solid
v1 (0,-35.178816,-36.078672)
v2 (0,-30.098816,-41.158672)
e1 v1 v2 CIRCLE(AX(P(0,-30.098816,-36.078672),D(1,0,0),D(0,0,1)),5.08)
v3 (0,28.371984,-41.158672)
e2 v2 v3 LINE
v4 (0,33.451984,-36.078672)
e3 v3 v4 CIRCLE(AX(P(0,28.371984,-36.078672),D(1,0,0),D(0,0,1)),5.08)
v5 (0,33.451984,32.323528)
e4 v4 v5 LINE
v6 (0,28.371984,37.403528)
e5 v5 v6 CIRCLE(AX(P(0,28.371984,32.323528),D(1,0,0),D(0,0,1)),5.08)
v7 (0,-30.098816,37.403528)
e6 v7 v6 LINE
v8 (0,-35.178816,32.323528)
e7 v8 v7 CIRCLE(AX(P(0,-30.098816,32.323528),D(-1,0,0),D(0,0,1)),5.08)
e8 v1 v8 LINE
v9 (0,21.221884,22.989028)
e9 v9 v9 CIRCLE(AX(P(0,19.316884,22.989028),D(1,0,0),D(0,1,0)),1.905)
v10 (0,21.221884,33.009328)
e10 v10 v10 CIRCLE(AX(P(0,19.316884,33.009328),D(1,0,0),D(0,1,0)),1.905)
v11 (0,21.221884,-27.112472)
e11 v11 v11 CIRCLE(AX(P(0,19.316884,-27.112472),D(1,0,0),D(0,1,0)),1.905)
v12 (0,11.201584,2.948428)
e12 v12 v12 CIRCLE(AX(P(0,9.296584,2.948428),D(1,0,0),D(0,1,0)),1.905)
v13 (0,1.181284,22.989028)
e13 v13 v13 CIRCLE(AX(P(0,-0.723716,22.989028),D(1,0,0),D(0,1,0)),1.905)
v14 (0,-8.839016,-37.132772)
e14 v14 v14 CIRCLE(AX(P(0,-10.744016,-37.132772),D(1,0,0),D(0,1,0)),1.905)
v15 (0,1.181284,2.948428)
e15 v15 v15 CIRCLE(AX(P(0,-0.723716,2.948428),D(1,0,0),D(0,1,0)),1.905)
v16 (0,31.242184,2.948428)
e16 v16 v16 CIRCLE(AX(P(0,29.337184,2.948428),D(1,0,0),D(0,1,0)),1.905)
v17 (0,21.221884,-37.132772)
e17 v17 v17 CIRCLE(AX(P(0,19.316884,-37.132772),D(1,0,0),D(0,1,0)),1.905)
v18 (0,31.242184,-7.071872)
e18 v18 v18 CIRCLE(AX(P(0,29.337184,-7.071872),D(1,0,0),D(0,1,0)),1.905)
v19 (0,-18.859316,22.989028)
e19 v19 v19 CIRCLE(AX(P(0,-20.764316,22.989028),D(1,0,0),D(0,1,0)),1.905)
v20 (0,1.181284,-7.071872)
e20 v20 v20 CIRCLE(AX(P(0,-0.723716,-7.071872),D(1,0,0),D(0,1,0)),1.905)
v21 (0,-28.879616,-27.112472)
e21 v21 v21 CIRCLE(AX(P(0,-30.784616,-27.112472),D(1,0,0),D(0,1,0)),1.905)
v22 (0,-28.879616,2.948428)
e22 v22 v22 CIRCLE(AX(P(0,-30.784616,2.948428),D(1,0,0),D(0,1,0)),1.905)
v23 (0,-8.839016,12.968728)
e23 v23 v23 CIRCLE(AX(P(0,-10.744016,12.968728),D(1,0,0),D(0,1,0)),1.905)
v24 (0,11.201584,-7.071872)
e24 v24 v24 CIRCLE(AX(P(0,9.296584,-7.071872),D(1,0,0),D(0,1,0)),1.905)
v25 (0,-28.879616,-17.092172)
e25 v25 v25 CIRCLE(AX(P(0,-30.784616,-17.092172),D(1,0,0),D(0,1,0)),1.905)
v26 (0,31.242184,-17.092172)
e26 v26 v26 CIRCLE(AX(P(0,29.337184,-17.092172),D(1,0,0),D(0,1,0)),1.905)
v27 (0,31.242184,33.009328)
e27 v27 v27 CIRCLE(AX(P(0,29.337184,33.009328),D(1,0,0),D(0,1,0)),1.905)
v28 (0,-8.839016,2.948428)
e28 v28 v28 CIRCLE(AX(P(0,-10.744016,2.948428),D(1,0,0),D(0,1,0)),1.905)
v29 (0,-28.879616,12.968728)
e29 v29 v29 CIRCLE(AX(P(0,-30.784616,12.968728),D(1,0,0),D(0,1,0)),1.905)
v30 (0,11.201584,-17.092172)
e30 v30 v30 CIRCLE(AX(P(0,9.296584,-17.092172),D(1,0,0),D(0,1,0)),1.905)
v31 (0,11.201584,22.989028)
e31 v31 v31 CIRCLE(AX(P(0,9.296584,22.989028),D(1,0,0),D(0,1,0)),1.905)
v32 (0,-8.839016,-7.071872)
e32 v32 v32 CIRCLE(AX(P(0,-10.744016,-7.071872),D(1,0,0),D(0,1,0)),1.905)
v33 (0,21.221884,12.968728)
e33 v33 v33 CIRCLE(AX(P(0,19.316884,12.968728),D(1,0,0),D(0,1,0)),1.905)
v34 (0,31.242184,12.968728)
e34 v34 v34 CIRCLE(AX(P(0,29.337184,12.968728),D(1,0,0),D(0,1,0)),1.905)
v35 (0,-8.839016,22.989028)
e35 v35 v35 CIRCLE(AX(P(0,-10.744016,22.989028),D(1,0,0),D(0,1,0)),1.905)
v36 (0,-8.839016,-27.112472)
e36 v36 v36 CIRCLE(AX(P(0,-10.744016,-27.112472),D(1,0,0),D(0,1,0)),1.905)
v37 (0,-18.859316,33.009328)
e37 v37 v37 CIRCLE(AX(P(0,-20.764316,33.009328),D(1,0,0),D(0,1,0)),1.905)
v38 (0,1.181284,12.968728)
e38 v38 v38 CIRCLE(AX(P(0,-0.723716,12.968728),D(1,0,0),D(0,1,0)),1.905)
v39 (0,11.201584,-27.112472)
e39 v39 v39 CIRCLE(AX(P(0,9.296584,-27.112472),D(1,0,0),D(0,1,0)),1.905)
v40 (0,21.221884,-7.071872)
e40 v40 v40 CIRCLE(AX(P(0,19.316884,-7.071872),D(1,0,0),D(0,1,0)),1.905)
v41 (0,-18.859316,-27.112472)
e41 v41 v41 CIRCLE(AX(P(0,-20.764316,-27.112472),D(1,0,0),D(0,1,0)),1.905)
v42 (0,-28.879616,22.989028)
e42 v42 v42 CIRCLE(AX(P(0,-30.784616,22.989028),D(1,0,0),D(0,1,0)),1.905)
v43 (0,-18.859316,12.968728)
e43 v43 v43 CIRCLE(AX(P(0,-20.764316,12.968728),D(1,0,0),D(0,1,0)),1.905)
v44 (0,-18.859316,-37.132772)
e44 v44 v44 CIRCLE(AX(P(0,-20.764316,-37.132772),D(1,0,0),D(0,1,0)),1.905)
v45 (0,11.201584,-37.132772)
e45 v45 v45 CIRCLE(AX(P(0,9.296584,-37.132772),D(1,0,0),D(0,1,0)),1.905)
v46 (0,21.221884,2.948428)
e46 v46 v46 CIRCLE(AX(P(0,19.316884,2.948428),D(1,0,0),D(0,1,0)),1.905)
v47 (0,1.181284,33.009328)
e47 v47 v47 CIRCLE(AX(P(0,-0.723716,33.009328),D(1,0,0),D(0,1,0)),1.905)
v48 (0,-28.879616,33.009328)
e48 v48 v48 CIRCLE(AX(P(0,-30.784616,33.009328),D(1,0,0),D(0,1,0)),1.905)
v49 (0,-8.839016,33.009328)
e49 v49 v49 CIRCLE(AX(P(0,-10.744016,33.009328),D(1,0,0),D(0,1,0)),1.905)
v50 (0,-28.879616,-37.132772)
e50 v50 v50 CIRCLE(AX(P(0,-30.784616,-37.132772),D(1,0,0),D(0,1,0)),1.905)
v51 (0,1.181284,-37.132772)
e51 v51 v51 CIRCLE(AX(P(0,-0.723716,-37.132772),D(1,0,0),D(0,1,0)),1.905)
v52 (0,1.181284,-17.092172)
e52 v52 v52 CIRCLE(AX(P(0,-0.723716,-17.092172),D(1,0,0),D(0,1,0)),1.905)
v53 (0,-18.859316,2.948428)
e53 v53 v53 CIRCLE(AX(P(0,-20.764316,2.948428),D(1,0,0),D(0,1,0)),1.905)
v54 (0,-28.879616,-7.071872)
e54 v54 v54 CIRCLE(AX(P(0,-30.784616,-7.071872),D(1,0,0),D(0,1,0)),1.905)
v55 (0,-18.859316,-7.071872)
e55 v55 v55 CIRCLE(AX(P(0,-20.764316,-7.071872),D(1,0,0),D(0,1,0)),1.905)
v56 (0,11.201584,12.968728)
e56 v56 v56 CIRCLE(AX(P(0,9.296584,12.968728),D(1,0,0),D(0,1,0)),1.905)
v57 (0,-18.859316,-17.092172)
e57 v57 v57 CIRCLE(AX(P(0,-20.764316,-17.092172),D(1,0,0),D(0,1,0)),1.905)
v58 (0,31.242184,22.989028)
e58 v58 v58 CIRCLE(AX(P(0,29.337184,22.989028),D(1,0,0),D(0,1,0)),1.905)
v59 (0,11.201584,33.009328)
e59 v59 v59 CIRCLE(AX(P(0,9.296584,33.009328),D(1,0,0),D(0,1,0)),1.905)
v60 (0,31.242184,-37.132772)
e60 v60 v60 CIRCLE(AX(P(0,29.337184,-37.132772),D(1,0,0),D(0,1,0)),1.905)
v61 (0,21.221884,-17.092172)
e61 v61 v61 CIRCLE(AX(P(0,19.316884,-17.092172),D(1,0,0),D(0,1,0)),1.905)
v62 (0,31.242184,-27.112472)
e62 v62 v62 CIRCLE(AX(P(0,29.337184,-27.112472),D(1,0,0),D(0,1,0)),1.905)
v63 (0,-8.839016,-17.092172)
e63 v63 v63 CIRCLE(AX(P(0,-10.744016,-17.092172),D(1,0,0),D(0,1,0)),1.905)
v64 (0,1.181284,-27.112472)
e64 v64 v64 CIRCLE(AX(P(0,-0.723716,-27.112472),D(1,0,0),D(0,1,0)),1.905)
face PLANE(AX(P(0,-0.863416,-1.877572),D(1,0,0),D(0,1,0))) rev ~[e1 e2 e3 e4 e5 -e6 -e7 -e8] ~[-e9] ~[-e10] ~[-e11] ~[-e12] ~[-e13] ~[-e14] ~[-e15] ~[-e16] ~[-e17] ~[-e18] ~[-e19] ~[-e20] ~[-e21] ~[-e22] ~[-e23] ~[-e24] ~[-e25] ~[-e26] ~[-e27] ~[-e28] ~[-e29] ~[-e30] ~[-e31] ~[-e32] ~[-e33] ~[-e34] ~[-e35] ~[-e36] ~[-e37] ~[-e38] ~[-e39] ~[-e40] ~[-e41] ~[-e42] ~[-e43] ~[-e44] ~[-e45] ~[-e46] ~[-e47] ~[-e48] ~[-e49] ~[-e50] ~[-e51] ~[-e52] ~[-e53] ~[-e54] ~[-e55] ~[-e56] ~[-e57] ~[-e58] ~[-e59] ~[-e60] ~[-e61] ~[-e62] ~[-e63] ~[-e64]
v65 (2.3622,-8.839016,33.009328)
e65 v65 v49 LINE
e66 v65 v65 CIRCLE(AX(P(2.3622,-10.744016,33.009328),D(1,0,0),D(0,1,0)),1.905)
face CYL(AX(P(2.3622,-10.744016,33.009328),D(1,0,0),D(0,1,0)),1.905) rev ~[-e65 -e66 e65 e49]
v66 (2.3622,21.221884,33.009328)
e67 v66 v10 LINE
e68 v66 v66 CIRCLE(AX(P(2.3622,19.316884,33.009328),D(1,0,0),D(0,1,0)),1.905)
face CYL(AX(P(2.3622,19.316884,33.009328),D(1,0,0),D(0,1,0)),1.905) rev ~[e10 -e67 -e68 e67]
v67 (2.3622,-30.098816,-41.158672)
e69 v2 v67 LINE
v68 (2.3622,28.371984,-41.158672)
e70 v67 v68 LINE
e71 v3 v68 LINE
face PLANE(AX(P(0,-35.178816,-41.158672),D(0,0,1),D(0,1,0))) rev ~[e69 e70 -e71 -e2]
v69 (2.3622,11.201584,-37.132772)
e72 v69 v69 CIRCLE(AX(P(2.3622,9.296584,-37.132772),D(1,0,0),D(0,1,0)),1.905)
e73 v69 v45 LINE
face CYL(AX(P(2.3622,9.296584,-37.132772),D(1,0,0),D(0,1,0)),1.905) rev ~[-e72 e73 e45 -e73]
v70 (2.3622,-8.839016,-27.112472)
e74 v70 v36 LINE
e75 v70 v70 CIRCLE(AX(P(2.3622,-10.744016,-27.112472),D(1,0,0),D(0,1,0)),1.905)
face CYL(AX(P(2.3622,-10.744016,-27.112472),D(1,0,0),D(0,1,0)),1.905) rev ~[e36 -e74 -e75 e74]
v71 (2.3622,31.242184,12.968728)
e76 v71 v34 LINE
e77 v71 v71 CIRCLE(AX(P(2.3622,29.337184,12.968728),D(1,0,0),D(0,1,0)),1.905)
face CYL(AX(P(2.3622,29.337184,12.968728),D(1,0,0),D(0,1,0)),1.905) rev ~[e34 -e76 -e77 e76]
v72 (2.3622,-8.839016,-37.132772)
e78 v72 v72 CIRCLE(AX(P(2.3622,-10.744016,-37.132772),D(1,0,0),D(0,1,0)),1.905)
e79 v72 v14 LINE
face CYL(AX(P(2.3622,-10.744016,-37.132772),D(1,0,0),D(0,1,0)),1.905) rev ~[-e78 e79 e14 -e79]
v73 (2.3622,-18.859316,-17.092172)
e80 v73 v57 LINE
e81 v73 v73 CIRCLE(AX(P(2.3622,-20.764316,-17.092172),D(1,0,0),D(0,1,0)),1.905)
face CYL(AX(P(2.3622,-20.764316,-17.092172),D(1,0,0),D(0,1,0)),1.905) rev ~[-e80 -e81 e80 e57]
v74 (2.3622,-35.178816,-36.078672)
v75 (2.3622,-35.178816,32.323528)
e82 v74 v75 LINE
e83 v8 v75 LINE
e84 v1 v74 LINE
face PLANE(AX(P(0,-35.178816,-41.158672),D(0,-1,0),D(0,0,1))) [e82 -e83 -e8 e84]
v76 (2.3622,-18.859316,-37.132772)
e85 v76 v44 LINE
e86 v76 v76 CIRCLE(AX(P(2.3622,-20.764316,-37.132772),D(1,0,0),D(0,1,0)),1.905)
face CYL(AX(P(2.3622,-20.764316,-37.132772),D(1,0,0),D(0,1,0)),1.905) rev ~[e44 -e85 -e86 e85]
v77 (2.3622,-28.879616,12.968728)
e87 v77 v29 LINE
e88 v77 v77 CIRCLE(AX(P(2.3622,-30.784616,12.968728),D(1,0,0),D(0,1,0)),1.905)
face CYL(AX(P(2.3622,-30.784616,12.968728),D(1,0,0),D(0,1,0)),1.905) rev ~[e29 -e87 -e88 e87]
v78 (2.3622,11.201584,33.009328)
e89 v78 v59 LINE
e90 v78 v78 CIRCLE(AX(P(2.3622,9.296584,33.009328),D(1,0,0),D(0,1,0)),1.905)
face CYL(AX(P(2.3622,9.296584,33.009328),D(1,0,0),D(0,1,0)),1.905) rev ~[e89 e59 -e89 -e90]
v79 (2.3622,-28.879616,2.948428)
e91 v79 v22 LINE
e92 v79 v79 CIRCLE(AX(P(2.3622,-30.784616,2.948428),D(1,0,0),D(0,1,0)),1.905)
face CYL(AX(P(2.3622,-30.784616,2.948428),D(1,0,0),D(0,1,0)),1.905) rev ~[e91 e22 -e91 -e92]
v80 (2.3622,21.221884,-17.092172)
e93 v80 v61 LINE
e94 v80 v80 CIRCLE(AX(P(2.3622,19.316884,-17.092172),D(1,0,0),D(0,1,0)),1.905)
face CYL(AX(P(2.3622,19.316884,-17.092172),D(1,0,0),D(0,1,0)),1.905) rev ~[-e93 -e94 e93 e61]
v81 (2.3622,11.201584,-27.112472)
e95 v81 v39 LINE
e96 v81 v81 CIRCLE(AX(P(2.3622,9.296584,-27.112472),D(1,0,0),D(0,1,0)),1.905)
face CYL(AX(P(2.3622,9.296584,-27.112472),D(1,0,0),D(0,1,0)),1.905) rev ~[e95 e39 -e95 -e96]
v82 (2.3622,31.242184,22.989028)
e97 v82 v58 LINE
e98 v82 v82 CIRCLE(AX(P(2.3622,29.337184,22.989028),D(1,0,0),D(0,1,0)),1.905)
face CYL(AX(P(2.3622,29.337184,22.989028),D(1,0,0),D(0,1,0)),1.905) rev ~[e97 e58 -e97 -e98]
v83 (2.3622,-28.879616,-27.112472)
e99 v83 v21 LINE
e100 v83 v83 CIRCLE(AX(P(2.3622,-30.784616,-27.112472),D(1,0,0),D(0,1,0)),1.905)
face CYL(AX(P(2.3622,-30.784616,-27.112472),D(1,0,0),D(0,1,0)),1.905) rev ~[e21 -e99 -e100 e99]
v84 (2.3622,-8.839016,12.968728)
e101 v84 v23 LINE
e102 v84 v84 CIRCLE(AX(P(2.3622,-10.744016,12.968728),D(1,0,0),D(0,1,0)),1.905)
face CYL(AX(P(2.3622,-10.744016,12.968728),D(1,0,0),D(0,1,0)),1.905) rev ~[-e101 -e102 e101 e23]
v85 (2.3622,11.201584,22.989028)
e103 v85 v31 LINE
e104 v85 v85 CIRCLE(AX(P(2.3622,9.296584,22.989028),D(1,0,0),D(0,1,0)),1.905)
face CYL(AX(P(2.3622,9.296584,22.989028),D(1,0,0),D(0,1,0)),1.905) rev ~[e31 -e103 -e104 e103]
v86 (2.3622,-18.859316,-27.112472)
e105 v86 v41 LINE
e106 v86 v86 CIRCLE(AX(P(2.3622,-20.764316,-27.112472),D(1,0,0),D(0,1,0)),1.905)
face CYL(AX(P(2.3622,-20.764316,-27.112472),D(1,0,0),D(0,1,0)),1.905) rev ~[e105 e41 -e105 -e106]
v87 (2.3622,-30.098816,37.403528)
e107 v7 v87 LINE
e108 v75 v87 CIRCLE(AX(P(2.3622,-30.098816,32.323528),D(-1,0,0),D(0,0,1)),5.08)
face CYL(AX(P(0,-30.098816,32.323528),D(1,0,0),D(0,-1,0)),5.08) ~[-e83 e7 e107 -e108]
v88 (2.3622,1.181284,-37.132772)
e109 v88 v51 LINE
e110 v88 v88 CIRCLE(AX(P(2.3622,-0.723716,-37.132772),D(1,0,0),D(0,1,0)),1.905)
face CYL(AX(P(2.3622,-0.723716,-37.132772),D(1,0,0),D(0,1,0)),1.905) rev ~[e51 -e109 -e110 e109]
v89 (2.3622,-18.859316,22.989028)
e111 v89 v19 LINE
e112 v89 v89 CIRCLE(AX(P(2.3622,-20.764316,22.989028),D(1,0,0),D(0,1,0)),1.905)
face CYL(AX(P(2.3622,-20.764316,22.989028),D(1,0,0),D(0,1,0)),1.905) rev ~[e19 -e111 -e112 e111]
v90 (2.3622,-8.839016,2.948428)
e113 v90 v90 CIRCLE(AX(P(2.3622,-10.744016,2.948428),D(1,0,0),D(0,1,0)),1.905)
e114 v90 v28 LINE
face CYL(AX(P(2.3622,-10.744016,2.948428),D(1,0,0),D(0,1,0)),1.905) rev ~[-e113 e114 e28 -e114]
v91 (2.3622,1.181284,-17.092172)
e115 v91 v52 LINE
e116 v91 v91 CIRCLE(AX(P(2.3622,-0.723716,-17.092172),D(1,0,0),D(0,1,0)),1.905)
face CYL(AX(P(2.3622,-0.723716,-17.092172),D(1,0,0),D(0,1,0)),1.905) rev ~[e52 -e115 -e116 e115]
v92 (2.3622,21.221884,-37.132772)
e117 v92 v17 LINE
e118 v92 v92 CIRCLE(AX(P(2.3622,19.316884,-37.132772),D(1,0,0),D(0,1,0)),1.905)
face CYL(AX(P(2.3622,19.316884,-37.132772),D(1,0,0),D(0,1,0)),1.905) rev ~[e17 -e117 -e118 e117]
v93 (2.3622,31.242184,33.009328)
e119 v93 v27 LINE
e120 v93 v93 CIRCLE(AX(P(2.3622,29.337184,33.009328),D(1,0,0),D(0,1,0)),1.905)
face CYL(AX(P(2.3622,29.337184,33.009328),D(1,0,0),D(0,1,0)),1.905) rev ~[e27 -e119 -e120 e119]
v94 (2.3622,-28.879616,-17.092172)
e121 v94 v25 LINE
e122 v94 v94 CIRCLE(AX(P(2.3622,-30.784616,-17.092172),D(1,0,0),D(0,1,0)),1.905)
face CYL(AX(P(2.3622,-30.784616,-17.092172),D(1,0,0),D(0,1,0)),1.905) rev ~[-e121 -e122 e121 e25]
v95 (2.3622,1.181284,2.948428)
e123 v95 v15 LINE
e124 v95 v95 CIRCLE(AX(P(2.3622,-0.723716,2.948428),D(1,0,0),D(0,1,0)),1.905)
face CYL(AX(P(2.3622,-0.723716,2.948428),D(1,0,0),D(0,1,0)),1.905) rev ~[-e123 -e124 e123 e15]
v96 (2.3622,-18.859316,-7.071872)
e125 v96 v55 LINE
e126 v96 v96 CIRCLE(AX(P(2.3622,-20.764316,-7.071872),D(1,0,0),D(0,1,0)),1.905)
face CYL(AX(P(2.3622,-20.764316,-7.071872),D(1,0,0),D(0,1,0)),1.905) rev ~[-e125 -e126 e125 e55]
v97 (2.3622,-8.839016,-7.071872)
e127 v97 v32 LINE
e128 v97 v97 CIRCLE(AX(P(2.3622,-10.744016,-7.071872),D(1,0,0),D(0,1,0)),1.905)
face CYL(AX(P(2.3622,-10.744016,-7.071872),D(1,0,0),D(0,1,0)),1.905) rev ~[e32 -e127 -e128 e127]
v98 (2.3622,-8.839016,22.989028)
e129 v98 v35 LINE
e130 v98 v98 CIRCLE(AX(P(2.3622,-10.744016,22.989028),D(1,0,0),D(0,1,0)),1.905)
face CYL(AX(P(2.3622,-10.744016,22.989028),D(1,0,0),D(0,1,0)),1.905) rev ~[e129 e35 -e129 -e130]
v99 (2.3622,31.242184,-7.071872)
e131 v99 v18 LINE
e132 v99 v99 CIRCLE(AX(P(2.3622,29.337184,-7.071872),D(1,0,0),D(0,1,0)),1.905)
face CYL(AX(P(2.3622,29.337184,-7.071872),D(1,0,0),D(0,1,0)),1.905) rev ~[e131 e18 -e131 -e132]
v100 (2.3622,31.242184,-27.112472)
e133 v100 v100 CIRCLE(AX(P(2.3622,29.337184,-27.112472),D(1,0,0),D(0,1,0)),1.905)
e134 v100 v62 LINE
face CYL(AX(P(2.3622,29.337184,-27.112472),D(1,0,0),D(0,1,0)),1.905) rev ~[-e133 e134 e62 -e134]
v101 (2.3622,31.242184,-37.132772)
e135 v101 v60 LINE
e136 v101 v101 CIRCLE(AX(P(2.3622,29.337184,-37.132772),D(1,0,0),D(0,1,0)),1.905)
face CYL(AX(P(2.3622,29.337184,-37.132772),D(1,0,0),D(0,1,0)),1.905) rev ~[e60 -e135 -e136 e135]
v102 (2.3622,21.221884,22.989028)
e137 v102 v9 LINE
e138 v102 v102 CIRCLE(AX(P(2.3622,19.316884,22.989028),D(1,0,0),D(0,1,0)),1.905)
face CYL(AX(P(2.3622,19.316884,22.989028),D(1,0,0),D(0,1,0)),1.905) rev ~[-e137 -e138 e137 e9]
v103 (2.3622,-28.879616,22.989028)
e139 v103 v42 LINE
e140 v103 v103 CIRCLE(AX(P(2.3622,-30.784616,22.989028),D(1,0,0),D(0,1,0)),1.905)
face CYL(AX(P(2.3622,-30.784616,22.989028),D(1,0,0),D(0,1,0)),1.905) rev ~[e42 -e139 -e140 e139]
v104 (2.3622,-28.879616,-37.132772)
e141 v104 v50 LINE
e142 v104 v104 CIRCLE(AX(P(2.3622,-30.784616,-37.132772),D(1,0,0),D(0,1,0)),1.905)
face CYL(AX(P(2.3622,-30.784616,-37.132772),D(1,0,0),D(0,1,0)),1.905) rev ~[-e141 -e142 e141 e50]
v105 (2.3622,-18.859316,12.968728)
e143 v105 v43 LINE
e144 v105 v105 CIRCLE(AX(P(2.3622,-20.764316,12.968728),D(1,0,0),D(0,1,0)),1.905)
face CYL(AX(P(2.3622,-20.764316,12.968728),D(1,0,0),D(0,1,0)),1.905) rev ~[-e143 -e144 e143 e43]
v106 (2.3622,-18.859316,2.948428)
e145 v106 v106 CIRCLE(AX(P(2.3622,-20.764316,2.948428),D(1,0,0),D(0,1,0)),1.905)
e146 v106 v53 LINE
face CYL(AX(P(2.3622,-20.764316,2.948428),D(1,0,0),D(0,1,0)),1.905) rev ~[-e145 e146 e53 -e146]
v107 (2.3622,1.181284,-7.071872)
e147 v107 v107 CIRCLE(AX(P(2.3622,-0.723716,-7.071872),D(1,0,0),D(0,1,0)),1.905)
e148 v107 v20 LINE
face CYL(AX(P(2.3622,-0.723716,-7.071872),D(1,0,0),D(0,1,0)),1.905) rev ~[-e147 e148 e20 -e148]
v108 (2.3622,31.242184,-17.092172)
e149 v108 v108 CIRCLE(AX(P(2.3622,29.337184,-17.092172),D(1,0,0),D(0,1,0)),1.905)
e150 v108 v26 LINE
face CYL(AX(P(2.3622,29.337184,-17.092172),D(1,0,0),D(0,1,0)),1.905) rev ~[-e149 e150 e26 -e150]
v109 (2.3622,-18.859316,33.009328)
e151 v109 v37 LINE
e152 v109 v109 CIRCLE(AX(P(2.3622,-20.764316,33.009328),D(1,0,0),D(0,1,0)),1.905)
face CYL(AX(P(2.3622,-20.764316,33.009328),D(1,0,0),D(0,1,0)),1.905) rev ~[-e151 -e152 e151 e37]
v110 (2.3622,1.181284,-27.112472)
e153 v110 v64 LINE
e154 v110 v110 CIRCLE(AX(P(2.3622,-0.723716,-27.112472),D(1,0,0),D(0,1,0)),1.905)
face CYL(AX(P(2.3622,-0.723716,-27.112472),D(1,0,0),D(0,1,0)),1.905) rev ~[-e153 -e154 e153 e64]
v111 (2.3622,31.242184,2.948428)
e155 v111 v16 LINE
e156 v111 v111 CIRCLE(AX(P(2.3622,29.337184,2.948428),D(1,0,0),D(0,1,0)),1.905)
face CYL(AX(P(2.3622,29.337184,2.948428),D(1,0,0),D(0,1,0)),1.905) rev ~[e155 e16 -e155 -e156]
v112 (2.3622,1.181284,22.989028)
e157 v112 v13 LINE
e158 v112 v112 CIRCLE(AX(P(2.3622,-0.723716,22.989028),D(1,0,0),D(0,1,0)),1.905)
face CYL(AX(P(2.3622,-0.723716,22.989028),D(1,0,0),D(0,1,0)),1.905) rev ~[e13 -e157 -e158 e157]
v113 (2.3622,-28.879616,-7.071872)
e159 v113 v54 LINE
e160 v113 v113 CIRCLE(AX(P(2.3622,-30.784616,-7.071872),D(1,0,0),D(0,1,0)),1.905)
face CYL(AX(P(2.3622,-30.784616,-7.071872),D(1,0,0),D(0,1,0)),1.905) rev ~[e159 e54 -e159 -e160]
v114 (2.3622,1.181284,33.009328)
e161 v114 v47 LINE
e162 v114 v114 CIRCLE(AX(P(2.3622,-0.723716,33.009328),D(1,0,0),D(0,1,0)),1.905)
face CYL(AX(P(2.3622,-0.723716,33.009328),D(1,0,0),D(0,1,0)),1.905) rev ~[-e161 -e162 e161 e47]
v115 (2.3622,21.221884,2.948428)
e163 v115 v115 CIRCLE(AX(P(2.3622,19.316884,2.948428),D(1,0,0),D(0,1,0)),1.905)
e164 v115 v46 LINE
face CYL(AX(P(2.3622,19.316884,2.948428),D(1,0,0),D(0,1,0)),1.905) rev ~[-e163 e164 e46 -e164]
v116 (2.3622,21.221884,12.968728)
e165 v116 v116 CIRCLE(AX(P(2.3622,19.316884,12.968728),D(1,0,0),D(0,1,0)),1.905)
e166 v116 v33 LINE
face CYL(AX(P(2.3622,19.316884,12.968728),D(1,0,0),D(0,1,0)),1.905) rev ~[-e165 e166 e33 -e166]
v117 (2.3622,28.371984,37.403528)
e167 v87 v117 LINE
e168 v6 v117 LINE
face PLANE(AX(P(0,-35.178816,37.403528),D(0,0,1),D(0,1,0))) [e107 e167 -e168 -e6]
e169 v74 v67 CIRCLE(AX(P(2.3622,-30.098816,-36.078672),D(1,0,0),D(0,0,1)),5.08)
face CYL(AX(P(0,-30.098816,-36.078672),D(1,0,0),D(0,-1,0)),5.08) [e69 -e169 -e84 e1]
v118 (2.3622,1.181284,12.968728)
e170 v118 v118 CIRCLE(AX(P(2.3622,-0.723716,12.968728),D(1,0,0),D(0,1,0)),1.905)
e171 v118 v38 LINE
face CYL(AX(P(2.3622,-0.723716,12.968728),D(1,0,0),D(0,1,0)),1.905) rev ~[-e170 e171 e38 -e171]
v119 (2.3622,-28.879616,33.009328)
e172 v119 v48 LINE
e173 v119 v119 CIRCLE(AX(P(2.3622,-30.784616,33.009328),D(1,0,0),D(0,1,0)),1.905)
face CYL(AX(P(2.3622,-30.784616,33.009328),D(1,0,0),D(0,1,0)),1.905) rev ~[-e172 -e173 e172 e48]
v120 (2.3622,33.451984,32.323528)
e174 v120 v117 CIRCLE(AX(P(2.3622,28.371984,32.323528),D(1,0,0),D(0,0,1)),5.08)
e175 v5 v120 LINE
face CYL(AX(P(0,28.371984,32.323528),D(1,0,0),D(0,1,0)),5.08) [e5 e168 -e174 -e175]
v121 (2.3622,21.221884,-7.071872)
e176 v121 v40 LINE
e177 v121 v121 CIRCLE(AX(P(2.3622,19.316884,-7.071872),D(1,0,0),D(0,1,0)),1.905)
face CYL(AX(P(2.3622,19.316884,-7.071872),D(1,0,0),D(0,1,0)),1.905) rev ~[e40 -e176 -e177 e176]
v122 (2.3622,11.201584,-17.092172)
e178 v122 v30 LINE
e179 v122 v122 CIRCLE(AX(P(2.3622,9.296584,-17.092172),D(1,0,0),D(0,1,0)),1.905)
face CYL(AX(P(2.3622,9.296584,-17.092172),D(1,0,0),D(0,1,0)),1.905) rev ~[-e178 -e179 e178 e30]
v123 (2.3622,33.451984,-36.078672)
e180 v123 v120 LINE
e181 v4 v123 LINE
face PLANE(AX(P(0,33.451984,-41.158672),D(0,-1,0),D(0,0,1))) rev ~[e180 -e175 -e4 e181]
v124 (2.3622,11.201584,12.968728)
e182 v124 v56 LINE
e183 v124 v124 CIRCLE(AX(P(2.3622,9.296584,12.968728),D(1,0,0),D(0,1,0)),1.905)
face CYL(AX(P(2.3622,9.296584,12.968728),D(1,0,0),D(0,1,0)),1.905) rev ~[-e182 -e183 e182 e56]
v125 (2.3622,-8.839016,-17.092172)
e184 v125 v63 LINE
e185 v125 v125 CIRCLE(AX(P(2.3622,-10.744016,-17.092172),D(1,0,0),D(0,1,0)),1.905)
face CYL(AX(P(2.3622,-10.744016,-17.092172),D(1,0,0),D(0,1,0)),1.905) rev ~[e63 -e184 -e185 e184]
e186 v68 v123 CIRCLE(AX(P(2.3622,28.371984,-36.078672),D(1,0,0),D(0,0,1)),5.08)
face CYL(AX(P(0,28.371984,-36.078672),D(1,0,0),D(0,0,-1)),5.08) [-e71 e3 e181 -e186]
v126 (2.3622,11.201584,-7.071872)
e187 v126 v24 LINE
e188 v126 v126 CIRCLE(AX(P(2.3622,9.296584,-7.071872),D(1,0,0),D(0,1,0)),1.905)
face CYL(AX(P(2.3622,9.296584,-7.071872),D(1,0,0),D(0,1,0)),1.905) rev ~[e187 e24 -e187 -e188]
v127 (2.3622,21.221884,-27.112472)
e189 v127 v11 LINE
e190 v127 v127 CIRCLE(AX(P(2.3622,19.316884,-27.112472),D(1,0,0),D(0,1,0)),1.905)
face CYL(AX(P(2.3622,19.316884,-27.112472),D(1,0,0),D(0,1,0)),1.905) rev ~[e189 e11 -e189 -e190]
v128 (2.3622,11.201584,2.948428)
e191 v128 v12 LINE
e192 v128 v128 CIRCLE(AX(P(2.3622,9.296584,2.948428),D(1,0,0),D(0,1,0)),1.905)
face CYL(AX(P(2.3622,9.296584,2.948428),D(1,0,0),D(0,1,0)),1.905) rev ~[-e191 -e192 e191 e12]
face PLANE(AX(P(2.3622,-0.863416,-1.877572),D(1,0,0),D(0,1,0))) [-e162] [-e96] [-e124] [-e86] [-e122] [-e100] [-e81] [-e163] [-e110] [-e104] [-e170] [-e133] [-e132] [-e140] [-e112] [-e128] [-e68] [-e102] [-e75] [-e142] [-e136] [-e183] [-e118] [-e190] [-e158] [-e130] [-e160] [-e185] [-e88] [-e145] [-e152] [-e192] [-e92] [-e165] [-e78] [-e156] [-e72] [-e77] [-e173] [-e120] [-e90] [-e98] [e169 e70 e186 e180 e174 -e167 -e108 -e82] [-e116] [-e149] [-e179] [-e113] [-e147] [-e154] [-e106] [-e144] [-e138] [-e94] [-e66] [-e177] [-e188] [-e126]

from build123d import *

# Parameters (mm, degrees)
F0_W     = 68.6308
F0_H     = 78.5622
F1_DEPTH = 2.3622
F2_R     = 5.08
F3_R     = 1.905
F4_DEPTH = 25.4


with BuildPart() as f1:
    # F0 (on Right) → F1 (new body)
    with BuildSketch(Plane.YZ):
        with Locations((-0.863416, -1.877572)):
            Rectangle(F0_W, F0_H)
    extrude(amount=F1_DEPTH)

    # F2
    f2_edges = [f1.edges().sort_by_distance(p)[0] for p in [
        (1.1811, -35.178816, -41.158672),
        (1.1811, 33.451984, -41.158672),
        (1.1811, 33.451984, 37.403528),
        (1.1811, -35.178816, 37.403528),
    ]]
    fillet(f2_edges, radius=F2_R)

    # F3 (on face) → F4 (cut)
    with BuildSketch(Plane.YZ.offset(2.3622)):
        with Locations((-30.784616, 33.009328)):
            Circle(F3_R)
        with Locations((-20.764316, 33.009328)):
            Circle(F3_R)
        with Locations((-10.744016, 33.009328)):
            Circle(F3_R)
        with Locations((-0.723716, 33.009328)):
            Circle(F3_R)
        with Locations((9.296584, 33.009328)):
            Circle(F3_R)
        with Locations((19.316884, 33.009328)):
            Circle(F3_R)
        with Locations((29.337184, 33.009328)):
            Circle(F3_R)
        with Locations((29.337184, 22.989028)):
            Circle(F3_R)
        with Locations((19.316884, 22.989028)):
            Circle(F3_R)
        with Locations((9.296584, 22.989028)):
            Circle(F3_R)
        with Locations((-0.723716, 22.989028)):
            Circle(F3_R)
        with Locations((-10.744016, 22.989028)):
            Circle(F3_R)
        with Locations((-20.764316, 22.989028)):
            Circle(F3_R)
        with Locations((-30.784616, 22.989028)):
            Circle(F3_R)
        with Locations((-30.784616, 12.968728)):
            Circle(F3_R)
        with Locations((-20.764316, 12.968728)):
            Circle(F3_R)
        with Locations((-10.744016, 12.968728)):
            Circle(F3_R)
        with Locations((-0.723716, 12.968728)):
            Circle(F3_R)
        with Locations((9.296584, 12.968728)):
            Circle(F3_R)
        with Locations((19.316884, 12.968728)):
            Circle(F3_R)
        with Locations((29.337184, 12.968728)):
            Circle(F3_R)
        with Locations((-30.784616, 2.948428)):
            Circle(F3_R)
        with Locations((-20.764316, 2.948428)):
            Circle(F3_R)
        with Locations((-10.744016, 2.948428)):
            Circle(F3_R)
        with Locations((-0.723716, 2.948428)):
            Circle(F3_R)
        with Locations((9.296584, 2.948428)):
            Circle(F3_R)
        with Locations((19.316884, 2.948428)):
            Circle(F3_R)
        with Locations((29.337184, 2.948428)):
            Circle(F3_R)
        with Locations((-30.784616, -7.071872)):
            Circle(F3_R)
        with Locations((-20.764316, -7.071872)):
            Circle(F3_R)
        with Locations((-10.744016, -7.071872)):
            Circle(F3_R)
        with Locations((-0.723716, -7.071872)):
            Circle(F3_R)
        with Locations((9.296584, -7.071872)):
            Circle(F3_R)
        with Locations((19.316884, -7.071872)):
            Circle(F3_R)
        with Locations((29.337184, -7.071872)):
            Circle(F3_R)
        with Locations((-30.784616, -17.092172)):
            Circle(F3_R)
        with Locations((-20.764316, -17.092172)):
            Circle(F3_R)
        with Locations((-10.744016, -17.092172)):
            Circle(F3_R)
        with Locations((-0.723716, -17.092172)):
            Circle(F3_R)
        with Locations((9.296584, -17.092172)):
            Circle(F3_R)
        with Locations((19.316884, -17.092172)):
            Circle(F3_R)
        with Locations((29.337184, -17.092172)):
            Circle(F3_R)
        with Locations((-30.784616, -27.112472)):
            Circle(F3_R)
        with Locations((-20.764316, -27.112472)):
            Circle(F3_R)
        with Locations((-10.744016, -27.112472)):
            Circle(F3_R)
        with Locations((-0.723716, -27.112472)):
            Circle(F3_R)
        with Locations((9.296584, -27.112472)):
            Circle(F3_R)
        with Locations((19.316884, -27.112472)):
            Circle(F3_R)
        with Locations((29.337184, -27.112472)):
            Circle(F3_R)
        with Locations((-30.784616, -37.132772)):
            Circle(F3_R)
        with Locations((-20.764316, -37.132772)):
            Circle(F3_R)
        with Locations((-10.744016, -37.132772)):
            Circle(F3_R)
        with Locations((-0.723716, -37.132772)):
            Circle(F3_R)
        with Locations((9.296584, -37.132772)):
            Circle(F3_R)
        with Locations((19.316884, -37.132772)):
            Circle(F3_R)
        with Locations((29.337184, -37.132772)):
            Circle(F3_R)
    extrude(amount=-F4_DEPTH, mode=Mode.SUBTRACT)


solid = f1.part
